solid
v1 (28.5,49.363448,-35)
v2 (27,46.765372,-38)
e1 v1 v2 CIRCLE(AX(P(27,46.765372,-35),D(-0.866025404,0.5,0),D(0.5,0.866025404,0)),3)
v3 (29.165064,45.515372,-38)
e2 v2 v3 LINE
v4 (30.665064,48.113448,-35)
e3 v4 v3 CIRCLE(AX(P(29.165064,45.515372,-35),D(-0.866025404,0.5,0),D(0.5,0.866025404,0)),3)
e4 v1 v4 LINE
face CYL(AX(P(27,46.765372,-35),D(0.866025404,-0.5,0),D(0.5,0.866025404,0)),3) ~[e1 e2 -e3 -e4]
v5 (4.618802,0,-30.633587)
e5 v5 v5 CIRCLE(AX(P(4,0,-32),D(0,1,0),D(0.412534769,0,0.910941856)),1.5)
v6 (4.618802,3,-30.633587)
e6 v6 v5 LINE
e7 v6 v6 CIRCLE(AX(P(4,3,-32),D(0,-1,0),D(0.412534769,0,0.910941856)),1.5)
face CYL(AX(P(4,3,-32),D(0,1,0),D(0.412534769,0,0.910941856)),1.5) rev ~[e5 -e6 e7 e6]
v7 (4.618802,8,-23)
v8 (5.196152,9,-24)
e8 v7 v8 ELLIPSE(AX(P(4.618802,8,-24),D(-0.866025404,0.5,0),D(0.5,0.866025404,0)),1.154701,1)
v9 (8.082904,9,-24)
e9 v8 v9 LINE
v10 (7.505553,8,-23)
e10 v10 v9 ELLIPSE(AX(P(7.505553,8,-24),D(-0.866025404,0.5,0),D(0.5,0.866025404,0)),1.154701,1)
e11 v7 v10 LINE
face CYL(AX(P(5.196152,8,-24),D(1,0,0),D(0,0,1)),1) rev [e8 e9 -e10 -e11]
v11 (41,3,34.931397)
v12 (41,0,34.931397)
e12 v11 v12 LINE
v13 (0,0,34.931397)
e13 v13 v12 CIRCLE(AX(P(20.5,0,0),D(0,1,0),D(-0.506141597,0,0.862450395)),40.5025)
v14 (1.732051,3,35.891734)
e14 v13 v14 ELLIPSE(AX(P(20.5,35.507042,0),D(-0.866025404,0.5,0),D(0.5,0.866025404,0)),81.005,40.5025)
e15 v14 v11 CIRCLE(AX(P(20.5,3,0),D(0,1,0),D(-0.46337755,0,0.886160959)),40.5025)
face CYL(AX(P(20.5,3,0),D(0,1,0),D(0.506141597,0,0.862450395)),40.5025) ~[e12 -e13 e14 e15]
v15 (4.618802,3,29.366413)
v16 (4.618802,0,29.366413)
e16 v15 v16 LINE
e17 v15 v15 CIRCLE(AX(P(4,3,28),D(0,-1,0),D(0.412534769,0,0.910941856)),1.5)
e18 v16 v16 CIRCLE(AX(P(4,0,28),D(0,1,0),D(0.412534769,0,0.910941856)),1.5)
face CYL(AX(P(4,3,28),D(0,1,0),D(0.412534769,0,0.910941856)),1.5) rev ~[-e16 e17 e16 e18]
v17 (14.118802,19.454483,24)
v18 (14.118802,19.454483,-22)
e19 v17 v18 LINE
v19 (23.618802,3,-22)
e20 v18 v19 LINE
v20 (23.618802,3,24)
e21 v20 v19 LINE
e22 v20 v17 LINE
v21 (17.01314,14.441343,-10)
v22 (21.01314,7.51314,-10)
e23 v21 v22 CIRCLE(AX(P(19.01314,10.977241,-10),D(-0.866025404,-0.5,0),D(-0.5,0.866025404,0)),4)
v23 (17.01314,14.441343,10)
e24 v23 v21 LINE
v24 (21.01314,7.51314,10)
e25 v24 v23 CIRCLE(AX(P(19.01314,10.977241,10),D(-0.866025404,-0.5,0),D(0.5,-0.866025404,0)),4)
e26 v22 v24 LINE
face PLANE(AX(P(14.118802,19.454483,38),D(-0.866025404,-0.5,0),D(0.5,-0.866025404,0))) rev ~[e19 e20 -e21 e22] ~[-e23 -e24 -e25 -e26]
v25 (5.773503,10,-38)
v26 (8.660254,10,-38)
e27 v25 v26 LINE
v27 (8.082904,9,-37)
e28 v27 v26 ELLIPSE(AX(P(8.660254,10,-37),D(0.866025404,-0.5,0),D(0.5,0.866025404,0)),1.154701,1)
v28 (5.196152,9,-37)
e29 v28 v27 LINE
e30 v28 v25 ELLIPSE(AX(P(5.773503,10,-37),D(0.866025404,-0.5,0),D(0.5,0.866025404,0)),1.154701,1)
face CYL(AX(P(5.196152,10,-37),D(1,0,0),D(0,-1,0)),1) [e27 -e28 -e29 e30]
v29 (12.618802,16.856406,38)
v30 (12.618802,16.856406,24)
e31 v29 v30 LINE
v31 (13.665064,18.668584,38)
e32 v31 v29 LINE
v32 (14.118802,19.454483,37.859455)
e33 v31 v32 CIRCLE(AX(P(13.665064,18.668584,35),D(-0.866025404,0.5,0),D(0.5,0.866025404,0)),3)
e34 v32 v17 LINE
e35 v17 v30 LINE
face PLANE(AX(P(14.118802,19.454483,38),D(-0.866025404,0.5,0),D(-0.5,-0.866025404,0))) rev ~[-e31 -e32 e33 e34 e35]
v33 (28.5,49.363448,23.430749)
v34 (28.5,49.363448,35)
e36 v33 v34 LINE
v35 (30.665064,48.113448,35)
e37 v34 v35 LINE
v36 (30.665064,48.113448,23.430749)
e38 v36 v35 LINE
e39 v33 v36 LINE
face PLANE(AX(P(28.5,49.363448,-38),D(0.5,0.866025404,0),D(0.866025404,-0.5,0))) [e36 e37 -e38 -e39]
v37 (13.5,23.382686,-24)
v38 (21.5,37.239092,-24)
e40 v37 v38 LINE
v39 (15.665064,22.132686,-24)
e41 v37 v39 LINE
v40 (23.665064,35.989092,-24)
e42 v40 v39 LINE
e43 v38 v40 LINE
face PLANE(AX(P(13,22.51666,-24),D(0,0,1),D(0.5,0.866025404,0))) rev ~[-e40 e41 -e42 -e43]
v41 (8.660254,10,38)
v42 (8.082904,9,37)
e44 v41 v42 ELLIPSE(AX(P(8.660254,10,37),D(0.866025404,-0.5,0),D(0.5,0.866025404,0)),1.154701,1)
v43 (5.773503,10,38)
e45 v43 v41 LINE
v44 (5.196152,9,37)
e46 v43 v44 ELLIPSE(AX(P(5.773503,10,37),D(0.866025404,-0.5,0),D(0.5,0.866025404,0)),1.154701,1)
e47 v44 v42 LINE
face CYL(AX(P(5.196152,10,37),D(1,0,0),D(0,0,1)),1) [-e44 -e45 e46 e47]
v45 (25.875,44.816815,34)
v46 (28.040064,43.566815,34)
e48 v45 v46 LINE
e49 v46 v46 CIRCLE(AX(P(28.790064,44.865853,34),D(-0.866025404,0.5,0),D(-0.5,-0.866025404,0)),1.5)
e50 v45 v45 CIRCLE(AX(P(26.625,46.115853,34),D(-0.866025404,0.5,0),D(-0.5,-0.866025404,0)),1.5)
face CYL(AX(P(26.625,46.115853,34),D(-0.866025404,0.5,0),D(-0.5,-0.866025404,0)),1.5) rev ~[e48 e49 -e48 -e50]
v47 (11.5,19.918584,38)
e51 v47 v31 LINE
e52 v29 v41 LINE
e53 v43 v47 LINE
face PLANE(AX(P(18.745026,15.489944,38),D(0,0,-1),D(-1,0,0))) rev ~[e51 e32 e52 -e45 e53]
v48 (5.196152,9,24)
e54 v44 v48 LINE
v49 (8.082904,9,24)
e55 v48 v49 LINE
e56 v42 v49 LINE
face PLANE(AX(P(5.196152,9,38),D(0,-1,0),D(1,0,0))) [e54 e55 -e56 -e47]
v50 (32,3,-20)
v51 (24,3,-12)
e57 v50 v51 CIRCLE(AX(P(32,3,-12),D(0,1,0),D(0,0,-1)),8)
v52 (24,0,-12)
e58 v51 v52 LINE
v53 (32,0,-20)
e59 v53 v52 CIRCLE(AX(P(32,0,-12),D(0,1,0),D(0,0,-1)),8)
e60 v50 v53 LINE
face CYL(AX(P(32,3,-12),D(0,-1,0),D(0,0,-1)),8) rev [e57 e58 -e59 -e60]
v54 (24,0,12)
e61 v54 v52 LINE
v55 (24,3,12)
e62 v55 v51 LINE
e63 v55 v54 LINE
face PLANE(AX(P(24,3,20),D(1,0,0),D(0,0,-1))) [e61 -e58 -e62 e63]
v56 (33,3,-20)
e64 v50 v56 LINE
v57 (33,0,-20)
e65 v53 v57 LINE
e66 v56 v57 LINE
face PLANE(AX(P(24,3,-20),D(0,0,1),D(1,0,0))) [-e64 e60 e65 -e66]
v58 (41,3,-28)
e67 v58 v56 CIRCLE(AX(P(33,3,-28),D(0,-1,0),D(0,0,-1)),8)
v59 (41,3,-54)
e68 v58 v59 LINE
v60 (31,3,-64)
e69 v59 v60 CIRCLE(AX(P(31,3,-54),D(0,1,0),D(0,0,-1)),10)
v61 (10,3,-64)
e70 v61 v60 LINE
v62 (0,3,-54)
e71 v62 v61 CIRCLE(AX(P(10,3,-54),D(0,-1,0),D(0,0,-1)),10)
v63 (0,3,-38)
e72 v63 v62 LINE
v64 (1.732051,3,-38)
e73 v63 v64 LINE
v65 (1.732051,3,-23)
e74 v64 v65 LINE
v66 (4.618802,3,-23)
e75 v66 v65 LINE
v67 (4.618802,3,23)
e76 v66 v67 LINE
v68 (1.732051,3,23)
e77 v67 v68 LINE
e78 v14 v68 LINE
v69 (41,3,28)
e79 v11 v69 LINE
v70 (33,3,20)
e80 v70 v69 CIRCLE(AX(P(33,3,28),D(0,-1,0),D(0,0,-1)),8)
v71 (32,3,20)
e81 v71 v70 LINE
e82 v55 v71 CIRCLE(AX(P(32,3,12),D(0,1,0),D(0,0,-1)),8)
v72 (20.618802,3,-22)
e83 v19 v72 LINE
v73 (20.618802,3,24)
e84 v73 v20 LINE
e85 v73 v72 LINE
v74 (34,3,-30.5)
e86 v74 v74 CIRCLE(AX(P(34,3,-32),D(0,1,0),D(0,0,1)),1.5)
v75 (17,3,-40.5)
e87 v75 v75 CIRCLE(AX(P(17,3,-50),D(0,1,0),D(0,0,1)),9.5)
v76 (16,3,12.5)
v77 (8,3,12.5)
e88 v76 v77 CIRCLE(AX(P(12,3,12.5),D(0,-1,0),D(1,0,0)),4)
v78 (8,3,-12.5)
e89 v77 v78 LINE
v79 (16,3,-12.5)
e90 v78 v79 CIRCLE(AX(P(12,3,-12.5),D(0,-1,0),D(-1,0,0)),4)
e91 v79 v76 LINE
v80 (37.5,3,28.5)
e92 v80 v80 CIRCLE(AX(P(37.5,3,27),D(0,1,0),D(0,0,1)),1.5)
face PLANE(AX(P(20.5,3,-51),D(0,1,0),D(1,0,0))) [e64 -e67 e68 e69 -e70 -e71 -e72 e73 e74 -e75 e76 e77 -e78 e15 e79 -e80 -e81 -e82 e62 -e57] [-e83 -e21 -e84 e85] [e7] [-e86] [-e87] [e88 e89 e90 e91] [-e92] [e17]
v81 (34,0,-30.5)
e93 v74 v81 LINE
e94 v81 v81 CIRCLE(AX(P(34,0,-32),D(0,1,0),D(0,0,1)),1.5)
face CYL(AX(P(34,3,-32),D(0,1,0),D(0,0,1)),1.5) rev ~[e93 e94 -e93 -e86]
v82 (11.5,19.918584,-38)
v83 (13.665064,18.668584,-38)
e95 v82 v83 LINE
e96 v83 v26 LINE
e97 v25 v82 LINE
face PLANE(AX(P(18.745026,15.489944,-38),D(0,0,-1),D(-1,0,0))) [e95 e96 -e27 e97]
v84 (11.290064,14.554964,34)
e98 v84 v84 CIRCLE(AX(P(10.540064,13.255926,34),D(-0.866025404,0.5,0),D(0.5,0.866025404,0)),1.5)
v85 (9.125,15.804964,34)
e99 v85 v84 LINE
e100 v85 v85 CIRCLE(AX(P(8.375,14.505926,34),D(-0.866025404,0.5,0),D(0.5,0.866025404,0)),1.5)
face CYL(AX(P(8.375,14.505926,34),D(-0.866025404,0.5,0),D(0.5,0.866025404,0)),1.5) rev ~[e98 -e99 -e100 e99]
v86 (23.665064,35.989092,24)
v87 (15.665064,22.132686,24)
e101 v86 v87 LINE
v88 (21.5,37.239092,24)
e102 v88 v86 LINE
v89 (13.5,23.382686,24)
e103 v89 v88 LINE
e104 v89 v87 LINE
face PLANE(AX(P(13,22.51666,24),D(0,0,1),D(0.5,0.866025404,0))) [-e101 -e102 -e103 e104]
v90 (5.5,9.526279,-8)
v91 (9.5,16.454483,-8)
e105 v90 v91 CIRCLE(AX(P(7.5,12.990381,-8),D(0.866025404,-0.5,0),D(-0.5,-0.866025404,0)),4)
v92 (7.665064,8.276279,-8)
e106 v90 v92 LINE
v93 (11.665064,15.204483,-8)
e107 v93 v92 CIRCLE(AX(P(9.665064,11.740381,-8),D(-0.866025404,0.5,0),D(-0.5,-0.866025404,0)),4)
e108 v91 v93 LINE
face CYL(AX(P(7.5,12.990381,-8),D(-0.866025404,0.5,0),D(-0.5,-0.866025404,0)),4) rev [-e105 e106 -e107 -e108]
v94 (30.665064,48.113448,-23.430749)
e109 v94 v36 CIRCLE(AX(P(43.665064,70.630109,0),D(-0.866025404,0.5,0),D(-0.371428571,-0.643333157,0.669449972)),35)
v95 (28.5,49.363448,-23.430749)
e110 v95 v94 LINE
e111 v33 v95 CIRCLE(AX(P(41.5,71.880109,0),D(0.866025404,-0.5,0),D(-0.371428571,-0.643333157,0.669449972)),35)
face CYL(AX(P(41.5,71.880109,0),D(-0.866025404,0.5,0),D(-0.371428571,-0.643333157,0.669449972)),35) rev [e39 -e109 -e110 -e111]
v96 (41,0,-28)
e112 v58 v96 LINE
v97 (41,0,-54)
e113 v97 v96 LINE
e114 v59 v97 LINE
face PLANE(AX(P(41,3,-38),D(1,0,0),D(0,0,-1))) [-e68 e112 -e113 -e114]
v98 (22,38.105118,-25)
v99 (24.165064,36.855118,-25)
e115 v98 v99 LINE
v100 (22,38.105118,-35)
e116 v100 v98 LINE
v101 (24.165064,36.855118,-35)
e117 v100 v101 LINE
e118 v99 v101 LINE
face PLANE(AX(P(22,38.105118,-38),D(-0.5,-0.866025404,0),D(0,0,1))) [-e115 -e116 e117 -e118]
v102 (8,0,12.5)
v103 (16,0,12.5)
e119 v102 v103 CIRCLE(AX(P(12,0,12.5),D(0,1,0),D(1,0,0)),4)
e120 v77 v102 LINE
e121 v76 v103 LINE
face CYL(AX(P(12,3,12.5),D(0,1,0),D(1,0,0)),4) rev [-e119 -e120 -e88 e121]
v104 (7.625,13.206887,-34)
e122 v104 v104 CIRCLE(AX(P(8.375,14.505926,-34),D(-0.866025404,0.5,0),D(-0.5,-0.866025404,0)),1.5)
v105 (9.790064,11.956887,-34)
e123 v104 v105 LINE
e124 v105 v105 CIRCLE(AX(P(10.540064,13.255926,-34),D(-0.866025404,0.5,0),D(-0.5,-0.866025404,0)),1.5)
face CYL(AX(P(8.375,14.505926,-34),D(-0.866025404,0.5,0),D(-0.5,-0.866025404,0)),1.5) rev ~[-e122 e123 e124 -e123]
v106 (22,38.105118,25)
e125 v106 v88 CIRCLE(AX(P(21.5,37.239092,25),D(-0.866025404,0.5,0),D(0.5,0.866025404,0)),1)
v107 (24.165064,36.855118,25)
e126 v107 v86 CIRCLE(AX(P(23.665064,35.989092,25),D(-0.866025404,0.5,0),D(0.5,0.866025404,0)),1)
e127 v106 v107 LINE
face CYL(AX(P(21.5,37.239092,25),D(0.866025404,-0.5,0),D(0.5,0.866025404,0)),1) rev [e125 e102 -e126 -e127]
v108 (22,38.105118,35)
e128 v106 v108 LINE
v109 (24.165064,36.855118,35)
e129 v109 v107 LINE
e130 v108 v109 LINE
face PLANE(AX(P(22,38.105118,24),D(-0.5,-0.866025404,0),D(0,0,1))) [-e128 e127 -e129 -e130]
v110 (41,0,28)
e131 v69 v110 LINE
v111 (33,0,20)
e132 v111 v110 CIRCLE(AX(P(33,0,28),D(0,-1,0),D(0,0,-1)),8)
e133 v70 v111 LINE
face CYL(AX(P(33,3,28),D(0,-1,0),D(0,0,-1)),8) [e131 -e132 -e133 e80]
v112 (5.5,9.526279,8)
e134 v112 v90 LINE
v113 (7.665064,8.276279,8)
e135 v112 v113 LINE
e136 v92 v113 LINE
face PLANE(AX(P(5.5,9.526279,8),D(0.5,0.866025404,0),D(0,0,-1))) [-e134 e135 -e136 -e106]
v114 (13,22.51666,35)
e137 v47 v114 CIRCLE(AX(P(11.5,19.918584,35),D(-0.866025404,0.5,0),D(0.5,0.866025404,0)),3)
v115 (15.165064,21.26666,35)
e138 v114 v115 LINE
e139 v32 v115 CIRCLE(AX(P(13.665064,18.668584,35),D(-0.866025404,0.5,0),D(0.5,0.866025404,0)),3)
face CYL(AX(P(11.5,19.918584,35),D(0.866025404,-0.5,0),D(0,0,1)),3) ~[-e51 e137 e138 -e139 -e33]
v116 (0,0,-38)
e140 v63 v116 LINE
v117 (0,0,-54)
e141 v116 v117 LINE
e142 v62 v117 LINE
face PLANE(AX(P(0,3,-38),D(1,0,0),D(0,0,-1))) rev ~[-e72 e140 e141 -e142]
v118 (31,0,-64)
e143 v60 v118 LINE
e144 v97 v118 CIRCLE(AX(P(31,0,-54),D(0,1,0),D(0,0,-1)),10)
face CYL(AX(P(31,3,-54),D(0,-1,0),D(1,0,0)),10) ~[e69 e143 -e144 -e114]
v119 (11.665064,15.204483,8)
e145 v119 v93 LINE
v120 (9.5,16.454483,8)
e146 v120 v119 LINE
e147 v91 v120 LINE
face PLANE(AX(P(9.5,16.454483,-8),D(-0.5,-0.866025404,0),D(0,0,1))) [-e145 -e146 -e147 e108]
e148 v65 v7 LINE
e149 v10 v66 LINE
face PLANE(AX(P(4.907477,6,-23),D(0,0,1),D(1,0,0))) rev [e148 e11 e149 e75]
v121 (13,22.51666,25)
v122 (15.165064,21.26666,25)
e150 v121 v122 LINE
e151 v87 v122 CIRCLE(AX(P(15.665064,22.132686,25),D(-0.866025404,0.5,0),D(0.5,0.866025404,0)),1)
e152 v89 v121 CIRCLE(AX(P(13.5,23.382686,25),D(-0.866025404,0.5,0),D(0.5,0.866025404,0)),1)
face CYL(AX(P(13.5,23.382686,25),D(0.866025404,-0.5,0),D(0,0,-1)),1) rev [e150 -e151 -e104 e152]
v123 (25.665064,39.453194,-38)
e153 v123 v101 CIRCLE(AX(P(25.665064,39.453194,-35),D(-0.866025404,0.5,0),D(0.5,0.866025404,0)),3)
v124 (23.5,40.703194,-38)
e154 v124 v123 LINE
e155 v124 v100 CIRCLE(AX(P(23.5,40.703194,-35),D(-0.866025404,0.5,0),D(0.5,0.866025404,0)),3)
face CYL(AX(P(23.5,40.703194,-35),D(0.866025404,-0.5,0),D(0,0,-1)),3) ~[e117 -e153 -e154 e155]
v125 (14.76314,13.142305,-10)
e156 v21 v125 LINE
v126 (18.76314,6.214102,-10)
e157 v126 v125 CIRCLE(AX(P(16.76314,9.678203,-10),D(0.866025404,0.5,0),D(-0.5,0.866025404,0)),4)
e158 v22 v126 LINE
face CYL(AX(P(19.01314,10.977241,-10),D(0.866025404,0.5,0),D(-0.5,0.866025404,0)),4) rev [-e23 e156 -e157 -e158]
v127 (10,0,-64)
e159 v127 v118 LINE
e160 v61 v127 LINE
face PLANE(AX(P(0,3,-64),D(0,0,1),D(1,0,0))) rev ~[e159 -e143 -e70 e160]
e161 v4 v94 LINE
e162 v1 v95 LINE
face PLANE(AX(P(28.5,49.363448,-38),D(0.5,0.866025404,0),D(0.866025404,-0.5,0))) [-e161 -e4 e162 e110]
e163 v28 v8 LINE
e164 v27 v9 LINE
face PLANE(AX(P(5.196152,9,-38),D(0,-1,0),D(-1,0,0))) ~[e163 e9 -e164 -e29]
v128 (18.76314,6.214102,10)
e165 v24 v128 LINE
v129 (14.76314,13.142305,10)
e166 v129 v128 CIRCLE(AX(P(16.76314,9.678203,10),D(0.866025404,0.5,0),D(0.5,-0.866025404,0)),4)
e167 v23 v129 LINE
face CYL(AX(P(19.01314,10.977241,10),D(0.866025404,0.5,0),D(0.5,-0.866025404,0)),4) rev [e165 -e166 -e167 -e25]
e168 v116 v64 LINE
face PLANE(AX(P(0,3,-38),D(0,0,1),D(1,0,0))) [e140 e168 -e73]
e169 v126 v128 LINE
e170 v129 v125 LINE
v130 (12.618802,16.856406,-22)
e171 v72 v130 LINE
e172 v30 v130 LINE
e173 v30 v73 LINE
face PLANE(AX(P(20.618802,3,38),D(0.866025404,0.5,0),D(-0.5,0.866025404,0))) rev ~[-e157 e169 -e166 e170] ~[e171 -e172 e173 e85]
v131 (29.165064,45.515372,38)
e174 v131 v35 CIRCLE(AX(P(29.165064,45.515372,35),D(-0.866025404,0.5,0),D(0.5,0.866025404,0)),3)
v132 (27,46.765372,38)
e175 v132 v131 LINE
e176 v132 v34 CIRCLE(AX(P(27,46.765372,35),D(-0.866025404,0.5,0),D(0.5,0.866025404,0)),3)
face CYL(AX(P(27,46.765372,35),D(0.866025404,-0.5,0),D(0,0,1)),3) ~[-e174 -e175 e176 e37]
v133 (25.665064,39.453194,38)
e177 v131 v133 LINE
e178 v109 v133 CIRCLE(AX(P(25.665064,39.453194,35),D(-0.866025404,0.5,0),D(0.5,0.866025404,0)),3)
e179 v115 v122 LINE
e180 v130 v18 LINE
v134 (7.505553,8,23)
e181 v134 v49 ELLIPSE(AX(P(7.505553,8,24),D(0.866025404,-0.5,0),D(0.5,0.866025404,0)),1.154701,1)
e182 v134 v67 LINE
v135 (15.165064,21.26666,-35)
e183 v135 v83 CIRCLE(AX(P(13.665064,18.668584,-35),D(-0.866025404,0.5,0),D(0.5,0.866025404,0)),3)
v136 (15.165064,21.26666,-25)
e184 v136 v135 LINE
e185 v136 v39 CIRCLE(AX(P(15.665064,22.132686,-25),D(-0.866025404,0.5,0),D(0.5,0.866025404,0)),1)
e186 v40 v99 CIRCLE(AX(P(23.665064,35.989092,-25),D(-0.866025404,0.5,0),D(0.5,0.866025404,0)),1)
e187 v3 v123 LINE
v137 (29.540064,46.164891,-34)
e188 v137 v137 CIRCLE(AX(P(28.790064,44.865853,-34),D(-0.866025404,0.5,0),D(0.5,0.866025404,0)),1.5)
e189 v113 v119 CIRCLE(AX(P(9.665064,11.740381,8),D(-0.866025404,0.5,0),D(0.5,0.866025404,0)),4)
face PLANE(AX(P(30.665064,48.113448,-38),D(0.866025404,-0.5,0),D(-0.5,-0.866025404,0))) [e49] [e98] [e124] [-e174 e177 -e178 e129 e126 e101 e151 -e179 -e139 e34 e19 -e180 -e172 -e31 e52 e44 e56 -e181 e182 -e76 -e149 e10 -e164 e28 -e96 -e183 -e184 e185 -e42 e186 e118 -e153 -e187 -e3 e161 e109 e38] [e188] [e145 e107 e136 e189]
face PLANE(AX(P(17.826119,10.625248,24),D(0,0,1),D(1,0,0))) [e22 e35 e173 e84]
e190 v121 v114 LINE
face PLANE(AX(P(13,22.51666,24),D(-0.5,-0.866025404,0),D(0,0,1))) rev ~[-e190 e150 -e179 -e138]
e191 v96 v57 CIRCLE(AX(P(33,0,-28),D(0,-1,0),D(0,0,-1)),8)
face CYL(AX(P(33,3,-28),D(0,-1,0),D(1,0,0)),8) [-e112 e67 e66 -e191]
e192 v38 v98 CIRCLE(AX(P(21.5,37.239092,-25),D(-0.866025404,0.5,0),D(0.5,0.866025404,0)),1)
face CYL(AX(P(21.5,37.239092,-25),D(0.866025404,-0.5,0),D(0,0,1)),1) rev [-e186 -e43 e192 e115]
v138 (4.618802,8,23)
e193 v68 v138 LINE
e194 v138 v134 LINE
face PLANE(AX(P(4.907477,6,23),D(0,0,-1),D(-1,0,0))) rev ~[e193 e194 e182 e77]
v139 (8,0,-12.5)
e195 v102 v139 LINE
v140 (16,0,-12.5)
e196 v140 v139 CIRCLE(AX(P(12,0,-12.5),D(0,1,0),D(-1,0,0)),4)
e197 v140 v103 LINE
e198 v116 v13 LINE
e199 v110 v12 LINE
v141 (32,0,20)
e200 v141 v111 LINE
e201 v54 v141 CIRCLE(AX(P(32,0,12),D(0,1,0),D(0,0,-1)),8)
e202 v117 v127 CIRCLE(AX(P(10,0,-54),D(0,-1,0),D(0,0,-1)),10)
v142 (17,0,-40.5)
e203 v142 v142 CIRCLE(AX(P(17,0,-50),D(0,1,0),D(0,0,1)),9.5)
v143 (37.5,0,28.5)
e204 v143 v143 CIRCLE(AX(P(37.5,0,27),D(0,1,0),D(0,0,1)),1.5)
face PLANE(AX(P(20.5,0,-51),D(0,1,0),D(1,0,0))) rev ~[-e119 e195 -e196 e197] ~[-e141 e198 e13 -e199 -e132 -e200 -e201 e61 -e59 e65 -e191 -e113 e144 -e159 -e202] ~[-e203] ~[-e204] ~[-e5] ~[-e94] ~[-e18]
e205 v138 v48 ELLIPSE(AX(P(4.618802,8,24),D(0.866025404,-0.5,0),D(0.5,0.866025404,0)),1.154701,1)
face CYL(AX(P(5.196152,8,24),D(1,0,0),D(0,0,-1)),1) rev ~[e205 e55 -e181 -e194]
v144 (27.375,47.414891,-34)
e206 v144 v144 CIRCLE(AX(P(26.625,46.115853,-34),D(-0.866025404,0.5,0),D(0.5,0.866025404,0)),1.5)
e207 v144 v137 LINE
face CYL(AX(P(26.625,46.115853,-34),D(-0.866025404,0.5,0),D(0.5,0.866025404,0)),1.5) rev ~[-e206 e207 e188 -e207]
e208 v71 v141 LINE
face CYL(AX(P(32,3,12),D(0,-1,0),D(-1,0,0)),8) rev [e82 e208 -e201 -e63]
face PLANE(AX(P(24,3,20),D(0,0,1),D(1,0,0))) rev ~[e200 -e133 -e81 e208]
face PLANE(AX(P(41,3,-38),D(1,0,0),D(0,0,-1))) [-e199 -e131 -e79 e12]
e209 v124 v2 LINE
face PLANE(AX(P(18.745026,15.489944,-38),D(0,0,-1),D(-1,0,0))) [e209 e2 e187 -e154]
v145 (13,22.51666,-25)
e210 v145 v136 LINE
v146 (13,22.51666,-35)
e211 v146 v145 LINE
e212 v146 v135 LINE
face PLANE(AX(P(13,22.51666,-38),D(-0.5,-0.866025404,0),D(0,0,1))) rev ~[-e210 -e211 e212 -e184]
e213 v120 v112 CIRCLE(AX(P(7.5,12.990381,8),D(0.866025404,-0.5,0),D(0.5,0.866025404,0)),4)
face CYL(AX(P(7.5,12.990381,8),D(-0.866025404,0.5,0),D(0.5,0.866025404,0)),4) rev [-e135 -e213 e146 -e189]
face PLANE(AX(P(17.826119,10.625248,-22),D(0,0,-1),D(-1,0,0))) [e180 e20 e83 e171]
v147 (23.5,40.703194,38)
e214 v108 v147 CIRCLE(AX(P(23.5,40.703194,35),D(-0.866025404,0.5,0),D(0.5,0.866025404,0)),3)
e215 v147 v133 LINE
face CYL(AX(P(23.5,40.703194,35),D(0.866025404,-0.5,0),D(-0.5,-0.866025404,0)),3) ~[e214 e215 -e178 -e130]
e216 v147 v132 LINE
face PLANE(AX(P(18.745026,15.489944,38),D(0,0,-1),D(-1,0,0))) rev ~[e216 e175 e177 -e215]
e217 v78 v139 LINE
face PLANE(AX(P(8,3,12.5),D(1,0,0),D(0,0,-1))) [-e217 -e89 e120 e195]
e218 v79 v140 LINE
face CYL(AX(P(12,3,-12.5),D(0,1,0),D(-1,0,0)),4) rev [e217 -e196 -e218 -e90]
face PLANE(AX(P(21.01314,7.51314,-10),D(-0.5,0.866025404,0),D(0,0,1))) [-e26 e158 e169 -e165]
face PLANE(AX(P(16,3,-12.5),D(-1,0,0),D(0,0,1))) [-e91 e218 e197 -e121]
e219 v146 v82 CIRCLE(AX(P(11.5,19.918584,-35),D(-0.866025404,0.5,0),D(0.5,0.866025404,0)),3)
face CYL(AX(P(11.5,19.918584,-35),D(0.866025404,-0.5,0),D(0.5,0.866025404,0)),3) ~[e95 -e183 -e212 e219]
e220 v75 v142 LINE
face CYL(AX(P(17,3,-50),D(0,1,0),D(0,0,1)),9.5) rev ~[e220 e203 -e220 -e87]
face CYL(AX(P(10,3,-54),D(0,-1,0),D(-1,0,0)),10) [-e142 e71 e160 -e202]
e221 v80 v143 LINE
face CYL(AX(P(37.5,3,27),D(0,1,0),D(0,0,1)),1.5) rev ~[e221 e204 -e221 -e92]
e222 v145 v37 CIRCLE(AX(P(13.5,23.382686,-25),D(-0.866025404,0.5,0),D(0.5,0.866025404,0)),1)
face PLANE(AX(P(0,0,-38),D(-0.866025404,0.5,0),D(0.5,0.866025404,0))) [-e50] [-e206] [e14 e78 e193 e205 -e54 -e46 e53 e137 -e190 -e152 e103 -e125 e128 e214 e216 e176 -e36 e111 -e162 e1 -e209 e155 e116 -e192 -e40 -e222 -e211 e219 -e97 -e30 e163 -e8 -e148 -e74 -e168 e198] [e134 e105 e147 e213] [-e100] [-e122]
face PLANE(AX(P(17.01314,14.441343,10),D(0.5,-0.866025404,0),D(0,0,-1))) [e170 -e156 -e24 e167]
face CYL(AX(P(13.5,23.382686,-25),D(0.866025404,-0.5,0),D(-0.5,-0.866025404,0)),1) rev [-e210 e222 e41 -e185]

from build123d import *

# Parameters (mm, degrees)
EXTRUDE_1_DEPTH      = 38
EXTRUDE_1_DEPTH_BACK = 38
EXTRUDE_2_DEPTH      = 60
SKETCH_4_R           = 1.5
SKETCH_4_W           = 14
SKETCH_4_H           = 18
CUT_EXTRUDE_1_DEPTH  = 6
CUT_EXTRUDE_3_DEPTH  = 14
FILLET_2_R           = 3
CUT_EXTRUDE_6_DEPTH  = 3
SKETCH_13_R          = 1.5
CUT_EXTRUDE_7_DEPTH  = 10
CUT_EXTRUDE_9_DEPTH  = 15
SKETCH_17_W          = 41
SKETCH_17_H          = 26
SKETCH_17_R          = 9.5
SKETCH_17_R_2        = 1.5
EXTRUDE_3_DEPTH      = 3
FILLET_3_R           = 10
SKETCH_18_W          = 17
SKETCH_18_H          = 40
CUT_EXTRUDE_10_DEPTH = 10
FILLET_4_R           = 8
CUT_EXTRUDE_11_DEPTH = 4
FILLET_5_R           = 1
CUT_EXTRUDE_12_DEPTH = 10


with BuildPart() as part:
    # 草图2 → 凸台-拉伸1 (new, two sides: drawn at the far end of the back side and taken through both)
    with BuildSketch(Plane.XY.offset(-EXTRUDE_1_DEPTH_BACK)):
        Polygon((0, 0), (28.5, 49.363448016), (30.665063509, 48.113448016), (4.618802154, 3), (41, 3), (41, 0), align=None)
    extrude(amount=EXTRUDE_1_DEPTH + EXTRUDE_1_DEPTH_BACK)

    # 草图3 → 凸台-拉伸2 (add)
    with BuildSketch(Plane.XY.offset(38)):
        Polygon((12.618802154, 16.856406461), (14.118802154, 19.454482672), (23.618802154, 3), (20.618802154, 3), align=None)
    extrude(amount=-EXTRUDE_2_DEPTH)

    # 草图4 → 切除-拉伸1 (cut)
    with BuildSketch(Plane(origin=(0, 0, 0), x_dir=(0, 0, 1), z_dir=(-0.8660254037844365, 0.500000000000004, 0))):
        with Locations((34, 53.25)):
            Circle(SKETCH_4_R)
        with Locations((34, 16.75)):
            Circle(SKETCH_4_R)
        with Locations((-34, 16.75)):
            Circle(SKETCH_4_R)
        with Locations((-34, 53.25)):
            Circle(SKETCH_4_R)
        with Locations((31, 35)):
            Rectangle(SKETCH_4_W, SKETCH_4_H)
        with Locations((-31, 35)):
            Rectangle(SKETCH_4_W, SKETCH_4_H)
    extrude(amount=-CUT_EXTRUDE_1_DEPTH, mode=Mode.SUBTRACT)

    # 草图6 → 切除-拉伸3 (cut)
    with BuildSketch(Plane.XY.offset(38)):
        Polygon((23.618802154, 3), (14.118802154, 19.454482672), (12.618802154, 16.856406461), (20.618802154, 3), align=None)
    extrude(amount=-CUT_EXTRUDE_3_DEPTH, mode=Mode.SUBTRACT)

    # 圆角2
    fillet_2_edges = [part.edges().sort_by_distance(p)[0] for p in [
        (29.582531755, 48.738448016, -38),
        (23.082531755, 37.480117767, -38),
        (29.582531755, 48.738448016, 38),
        (23.082531755, 37.480117767, 38),
        (14.082531755, 21.891660498, 38),
        (14.082531755, 21.891660498, -38),
    ]]
    fillet(fillet_2_edges, radius=FILLET_2_R)

    # 草图11 → 切除-拉伸6 (cut)
    with BuildSketch(Plane(origin=(19.013139721, 10.977241336, 0), x_dir=(0, 0, -1), z_dir=(0.8660254037844374, 0.5000000000000022, 0))):
        with BuildLine():
            Line((-10, 4), (10, 4))
            ThreePointArc((10, 4), (14, 0), (10, -4))
            Line((10, -4), (-10, -4))
            ThreePointArc((-10, -4), (-14, 0), (-10, 4))
        make_face()
    extrude(amount=-CUT_EXTRUDE_6_DEPTH, mode=Mode.SUBTRACT)

    # 草图13 → 切除-拉伸7 (cut)
    with BuildSketch(Plane(origin=(0, 3, 0), x_dir=(1, 0, 0), z_dir=(0, 1, 0))):
        with Locations((37.5, -27)):
            Circle(SKETCH_13_R)
        with Locations((4, -28)):
            Circle(SKETCH_13_R)
        with Locations((34, 32)):
            Circle(SKETCH_13_R)
        with Locations((4, 32)):
            Circle(SKETCH_13_R)
    extrude(amount=-CUT_EXTRUDE_7_DEPTH, mode=Mode.SUBTRACT)

    # 草图15 → 切除-拉伸9 (cut)
    with BuildSketch(Plane.XY.offset(38)):
        Polygon((4.618802154, 3), (1.732050808, 3), (5.196152423, 9), (8.082903769, 9), align=None)
    cut_extrude_9 = extrude(amount=-CUT_EXTRUDE_9_DEPTH, mode=Mode.SUBTRACT)

    # 镜向1: 切除-拉伸9 across plane
    add(cut_extrude_9.mirror(Plane.XY), mode=Mode.SUBTRACT)

    # 草图17 → 凸台-拉伸3 (add)
    # profile 1 of 2: a face of its own
    with BuildSketch(Plane(origin=(0, 3, 0), x_dir=(1, 0, 0), z_dir=(0, 1, 0))):
        with Locations((20.5, 51)):
            Rectangle(SKETCH_17_W, SKETCH_17_H)
        with Locations((17, 50)):
            Circle(SKETCH_17_R, mode=Mode.SUBTRACT)
    # profile 2 of 2: a face of its own
    with BuildSketch(Plane(origin=(0, 3, 0), x_dir=(1, 0, 0), z_dir=(0, 1, 0))):
        with Locations((20.5, -51)):
            Rectangle(SKETCH_17_W, SKETCH_17_H)
        with Locations((5, -45)):
            Circle(SKETCH_17_R_2, mode=Mode.SUBTRACT)
        with Locations((5, -55)):
            Circle(SKETCH_17_R_2, mode=Mode.SUBTRACT)
        with Locations((35, -55)):
            Circle(SKETCH_17_R_2, mode=Mode.SUBTRACT)
        with Locations((35, -45)):
            Circle(SKETCH_17_R_2, mode=Mode.SUBTRACT)
        with Locations((20, -50)):
            Circle(SKETCH_17_R, mode=Mode.SUBTRACT)
    extrude(amount=-EXTRUDE_3_DEPTH)

    # 圆角3
    fillet_3_edges = [part.edges().sort_by_distance(p)[0] for p in [
        (41, 1.5, -64),
        (0, 1.5, -64),
        (41, 1.5, 64),
        (0, 1.5, 64),
    ]]
    fillet(fillet_3_edges, radius=FILLET_3_R)

    # 草图18 → 切除-拉伸10 (cut)
    with BuildSketch(Plane(origin=(0, 3, 0), x_dir=(1, 0, 0), z_dir=(0, 1, 0))):
        with Locations((32.5, 0)):
            Rectangle(SKETCH_18_W, SKETCH_18_H)
        with BuildLine():
            Line((8, -12.5), (8, 12.5))
            ThreePointArc((8, 12.5), (12, 16.5), (16, 12.5))
            Line((16, 12.5), (16, -12.5))
            ThreePointArc((16, -12.5), (12, -16.5), (8, -12.5))
        make_face()
    extrude(amount=-CUT_EXTRUDE_10_DEPTH, mode=Mode.SUBTRACT)

    # 圆角4
    fillet_4_edges = [part.edges().sort_by_distance(p)[0] for p in [
        (41, 1.5, -20),
        (24, 1.5, -20),
        (24, 1.5, 20),
        (41, 1.5, 20),
    ]]
    fillet(fillet_4_edges, radius=FILLET_4_R)

    # 草图21 → 切除-拉伸11 (cut)
    with BuildSketch(Plane(origin=(0, 0, 0), x_dir=(0, 0, 1), z_dir=(-0.8660254037844364, 0.5000000000000041, 0))):
        with BuildLine():
            Line((-23.430749028, 57), (23.430749028, 57))
            ThreePointArc((23.430749028, 57), (0, 48), (-23.430749028, 57))
        make_face()
        with BuildLine():
            Line((-8, 19), (8, 19))
            ThreePointArc((8, 19), (12, 15), (8, 11))
            Line((8, 11), (-8, 11))
            ThreePointArc((-8, 11), (-12, 15), (-8, 19))
        make_face()
    extrude(amount=-CUT_EXTRUDE_11_DEPTH, mode=Mode.SUBTRACT)

    # 圆角5
    fillet_5_edges = [part.edges().sort_by_distance(p)[0] for p in [
        (6.639528096, 9, -23),
        (6.639528096, 9, 23),
        (14.082531755, 21.891660498, 24),
        (23.082531755, 37.480117767, 24),
        (14.082531755, 21.891660498, -24),
        (23.082531755, 37.480117767, -24),
        (6.639528096, 9, 38),
        (6.639528096, 9, -38),
    ]]
    fillet(fillet_5_edges, radius=FILLET_5_R)

    # 草图22 → 切除-拉伸12 (cut)
    with BuildSketch(Plane(origin=(0, 3, 0), x_dir=(1, 0, 0), z_dir=(0, 1, 0))):
        with BuildLine():
            Line((0, -34.931397069), (0, -65.97672588))
            Line((0, -65.97672588), (41, -65.97672588))
            Line((41, -65.97672588), (41, -34.931397069))
            ThreePointArc((41, -34.931397069), (20.5, -40.502499938), (0, -34.931397069))
        make_face()
    extrude(amount=-CUT_EXTRUDE_12_DEPTH, mode=Mode.SUBTRACT)


solid = part.part
